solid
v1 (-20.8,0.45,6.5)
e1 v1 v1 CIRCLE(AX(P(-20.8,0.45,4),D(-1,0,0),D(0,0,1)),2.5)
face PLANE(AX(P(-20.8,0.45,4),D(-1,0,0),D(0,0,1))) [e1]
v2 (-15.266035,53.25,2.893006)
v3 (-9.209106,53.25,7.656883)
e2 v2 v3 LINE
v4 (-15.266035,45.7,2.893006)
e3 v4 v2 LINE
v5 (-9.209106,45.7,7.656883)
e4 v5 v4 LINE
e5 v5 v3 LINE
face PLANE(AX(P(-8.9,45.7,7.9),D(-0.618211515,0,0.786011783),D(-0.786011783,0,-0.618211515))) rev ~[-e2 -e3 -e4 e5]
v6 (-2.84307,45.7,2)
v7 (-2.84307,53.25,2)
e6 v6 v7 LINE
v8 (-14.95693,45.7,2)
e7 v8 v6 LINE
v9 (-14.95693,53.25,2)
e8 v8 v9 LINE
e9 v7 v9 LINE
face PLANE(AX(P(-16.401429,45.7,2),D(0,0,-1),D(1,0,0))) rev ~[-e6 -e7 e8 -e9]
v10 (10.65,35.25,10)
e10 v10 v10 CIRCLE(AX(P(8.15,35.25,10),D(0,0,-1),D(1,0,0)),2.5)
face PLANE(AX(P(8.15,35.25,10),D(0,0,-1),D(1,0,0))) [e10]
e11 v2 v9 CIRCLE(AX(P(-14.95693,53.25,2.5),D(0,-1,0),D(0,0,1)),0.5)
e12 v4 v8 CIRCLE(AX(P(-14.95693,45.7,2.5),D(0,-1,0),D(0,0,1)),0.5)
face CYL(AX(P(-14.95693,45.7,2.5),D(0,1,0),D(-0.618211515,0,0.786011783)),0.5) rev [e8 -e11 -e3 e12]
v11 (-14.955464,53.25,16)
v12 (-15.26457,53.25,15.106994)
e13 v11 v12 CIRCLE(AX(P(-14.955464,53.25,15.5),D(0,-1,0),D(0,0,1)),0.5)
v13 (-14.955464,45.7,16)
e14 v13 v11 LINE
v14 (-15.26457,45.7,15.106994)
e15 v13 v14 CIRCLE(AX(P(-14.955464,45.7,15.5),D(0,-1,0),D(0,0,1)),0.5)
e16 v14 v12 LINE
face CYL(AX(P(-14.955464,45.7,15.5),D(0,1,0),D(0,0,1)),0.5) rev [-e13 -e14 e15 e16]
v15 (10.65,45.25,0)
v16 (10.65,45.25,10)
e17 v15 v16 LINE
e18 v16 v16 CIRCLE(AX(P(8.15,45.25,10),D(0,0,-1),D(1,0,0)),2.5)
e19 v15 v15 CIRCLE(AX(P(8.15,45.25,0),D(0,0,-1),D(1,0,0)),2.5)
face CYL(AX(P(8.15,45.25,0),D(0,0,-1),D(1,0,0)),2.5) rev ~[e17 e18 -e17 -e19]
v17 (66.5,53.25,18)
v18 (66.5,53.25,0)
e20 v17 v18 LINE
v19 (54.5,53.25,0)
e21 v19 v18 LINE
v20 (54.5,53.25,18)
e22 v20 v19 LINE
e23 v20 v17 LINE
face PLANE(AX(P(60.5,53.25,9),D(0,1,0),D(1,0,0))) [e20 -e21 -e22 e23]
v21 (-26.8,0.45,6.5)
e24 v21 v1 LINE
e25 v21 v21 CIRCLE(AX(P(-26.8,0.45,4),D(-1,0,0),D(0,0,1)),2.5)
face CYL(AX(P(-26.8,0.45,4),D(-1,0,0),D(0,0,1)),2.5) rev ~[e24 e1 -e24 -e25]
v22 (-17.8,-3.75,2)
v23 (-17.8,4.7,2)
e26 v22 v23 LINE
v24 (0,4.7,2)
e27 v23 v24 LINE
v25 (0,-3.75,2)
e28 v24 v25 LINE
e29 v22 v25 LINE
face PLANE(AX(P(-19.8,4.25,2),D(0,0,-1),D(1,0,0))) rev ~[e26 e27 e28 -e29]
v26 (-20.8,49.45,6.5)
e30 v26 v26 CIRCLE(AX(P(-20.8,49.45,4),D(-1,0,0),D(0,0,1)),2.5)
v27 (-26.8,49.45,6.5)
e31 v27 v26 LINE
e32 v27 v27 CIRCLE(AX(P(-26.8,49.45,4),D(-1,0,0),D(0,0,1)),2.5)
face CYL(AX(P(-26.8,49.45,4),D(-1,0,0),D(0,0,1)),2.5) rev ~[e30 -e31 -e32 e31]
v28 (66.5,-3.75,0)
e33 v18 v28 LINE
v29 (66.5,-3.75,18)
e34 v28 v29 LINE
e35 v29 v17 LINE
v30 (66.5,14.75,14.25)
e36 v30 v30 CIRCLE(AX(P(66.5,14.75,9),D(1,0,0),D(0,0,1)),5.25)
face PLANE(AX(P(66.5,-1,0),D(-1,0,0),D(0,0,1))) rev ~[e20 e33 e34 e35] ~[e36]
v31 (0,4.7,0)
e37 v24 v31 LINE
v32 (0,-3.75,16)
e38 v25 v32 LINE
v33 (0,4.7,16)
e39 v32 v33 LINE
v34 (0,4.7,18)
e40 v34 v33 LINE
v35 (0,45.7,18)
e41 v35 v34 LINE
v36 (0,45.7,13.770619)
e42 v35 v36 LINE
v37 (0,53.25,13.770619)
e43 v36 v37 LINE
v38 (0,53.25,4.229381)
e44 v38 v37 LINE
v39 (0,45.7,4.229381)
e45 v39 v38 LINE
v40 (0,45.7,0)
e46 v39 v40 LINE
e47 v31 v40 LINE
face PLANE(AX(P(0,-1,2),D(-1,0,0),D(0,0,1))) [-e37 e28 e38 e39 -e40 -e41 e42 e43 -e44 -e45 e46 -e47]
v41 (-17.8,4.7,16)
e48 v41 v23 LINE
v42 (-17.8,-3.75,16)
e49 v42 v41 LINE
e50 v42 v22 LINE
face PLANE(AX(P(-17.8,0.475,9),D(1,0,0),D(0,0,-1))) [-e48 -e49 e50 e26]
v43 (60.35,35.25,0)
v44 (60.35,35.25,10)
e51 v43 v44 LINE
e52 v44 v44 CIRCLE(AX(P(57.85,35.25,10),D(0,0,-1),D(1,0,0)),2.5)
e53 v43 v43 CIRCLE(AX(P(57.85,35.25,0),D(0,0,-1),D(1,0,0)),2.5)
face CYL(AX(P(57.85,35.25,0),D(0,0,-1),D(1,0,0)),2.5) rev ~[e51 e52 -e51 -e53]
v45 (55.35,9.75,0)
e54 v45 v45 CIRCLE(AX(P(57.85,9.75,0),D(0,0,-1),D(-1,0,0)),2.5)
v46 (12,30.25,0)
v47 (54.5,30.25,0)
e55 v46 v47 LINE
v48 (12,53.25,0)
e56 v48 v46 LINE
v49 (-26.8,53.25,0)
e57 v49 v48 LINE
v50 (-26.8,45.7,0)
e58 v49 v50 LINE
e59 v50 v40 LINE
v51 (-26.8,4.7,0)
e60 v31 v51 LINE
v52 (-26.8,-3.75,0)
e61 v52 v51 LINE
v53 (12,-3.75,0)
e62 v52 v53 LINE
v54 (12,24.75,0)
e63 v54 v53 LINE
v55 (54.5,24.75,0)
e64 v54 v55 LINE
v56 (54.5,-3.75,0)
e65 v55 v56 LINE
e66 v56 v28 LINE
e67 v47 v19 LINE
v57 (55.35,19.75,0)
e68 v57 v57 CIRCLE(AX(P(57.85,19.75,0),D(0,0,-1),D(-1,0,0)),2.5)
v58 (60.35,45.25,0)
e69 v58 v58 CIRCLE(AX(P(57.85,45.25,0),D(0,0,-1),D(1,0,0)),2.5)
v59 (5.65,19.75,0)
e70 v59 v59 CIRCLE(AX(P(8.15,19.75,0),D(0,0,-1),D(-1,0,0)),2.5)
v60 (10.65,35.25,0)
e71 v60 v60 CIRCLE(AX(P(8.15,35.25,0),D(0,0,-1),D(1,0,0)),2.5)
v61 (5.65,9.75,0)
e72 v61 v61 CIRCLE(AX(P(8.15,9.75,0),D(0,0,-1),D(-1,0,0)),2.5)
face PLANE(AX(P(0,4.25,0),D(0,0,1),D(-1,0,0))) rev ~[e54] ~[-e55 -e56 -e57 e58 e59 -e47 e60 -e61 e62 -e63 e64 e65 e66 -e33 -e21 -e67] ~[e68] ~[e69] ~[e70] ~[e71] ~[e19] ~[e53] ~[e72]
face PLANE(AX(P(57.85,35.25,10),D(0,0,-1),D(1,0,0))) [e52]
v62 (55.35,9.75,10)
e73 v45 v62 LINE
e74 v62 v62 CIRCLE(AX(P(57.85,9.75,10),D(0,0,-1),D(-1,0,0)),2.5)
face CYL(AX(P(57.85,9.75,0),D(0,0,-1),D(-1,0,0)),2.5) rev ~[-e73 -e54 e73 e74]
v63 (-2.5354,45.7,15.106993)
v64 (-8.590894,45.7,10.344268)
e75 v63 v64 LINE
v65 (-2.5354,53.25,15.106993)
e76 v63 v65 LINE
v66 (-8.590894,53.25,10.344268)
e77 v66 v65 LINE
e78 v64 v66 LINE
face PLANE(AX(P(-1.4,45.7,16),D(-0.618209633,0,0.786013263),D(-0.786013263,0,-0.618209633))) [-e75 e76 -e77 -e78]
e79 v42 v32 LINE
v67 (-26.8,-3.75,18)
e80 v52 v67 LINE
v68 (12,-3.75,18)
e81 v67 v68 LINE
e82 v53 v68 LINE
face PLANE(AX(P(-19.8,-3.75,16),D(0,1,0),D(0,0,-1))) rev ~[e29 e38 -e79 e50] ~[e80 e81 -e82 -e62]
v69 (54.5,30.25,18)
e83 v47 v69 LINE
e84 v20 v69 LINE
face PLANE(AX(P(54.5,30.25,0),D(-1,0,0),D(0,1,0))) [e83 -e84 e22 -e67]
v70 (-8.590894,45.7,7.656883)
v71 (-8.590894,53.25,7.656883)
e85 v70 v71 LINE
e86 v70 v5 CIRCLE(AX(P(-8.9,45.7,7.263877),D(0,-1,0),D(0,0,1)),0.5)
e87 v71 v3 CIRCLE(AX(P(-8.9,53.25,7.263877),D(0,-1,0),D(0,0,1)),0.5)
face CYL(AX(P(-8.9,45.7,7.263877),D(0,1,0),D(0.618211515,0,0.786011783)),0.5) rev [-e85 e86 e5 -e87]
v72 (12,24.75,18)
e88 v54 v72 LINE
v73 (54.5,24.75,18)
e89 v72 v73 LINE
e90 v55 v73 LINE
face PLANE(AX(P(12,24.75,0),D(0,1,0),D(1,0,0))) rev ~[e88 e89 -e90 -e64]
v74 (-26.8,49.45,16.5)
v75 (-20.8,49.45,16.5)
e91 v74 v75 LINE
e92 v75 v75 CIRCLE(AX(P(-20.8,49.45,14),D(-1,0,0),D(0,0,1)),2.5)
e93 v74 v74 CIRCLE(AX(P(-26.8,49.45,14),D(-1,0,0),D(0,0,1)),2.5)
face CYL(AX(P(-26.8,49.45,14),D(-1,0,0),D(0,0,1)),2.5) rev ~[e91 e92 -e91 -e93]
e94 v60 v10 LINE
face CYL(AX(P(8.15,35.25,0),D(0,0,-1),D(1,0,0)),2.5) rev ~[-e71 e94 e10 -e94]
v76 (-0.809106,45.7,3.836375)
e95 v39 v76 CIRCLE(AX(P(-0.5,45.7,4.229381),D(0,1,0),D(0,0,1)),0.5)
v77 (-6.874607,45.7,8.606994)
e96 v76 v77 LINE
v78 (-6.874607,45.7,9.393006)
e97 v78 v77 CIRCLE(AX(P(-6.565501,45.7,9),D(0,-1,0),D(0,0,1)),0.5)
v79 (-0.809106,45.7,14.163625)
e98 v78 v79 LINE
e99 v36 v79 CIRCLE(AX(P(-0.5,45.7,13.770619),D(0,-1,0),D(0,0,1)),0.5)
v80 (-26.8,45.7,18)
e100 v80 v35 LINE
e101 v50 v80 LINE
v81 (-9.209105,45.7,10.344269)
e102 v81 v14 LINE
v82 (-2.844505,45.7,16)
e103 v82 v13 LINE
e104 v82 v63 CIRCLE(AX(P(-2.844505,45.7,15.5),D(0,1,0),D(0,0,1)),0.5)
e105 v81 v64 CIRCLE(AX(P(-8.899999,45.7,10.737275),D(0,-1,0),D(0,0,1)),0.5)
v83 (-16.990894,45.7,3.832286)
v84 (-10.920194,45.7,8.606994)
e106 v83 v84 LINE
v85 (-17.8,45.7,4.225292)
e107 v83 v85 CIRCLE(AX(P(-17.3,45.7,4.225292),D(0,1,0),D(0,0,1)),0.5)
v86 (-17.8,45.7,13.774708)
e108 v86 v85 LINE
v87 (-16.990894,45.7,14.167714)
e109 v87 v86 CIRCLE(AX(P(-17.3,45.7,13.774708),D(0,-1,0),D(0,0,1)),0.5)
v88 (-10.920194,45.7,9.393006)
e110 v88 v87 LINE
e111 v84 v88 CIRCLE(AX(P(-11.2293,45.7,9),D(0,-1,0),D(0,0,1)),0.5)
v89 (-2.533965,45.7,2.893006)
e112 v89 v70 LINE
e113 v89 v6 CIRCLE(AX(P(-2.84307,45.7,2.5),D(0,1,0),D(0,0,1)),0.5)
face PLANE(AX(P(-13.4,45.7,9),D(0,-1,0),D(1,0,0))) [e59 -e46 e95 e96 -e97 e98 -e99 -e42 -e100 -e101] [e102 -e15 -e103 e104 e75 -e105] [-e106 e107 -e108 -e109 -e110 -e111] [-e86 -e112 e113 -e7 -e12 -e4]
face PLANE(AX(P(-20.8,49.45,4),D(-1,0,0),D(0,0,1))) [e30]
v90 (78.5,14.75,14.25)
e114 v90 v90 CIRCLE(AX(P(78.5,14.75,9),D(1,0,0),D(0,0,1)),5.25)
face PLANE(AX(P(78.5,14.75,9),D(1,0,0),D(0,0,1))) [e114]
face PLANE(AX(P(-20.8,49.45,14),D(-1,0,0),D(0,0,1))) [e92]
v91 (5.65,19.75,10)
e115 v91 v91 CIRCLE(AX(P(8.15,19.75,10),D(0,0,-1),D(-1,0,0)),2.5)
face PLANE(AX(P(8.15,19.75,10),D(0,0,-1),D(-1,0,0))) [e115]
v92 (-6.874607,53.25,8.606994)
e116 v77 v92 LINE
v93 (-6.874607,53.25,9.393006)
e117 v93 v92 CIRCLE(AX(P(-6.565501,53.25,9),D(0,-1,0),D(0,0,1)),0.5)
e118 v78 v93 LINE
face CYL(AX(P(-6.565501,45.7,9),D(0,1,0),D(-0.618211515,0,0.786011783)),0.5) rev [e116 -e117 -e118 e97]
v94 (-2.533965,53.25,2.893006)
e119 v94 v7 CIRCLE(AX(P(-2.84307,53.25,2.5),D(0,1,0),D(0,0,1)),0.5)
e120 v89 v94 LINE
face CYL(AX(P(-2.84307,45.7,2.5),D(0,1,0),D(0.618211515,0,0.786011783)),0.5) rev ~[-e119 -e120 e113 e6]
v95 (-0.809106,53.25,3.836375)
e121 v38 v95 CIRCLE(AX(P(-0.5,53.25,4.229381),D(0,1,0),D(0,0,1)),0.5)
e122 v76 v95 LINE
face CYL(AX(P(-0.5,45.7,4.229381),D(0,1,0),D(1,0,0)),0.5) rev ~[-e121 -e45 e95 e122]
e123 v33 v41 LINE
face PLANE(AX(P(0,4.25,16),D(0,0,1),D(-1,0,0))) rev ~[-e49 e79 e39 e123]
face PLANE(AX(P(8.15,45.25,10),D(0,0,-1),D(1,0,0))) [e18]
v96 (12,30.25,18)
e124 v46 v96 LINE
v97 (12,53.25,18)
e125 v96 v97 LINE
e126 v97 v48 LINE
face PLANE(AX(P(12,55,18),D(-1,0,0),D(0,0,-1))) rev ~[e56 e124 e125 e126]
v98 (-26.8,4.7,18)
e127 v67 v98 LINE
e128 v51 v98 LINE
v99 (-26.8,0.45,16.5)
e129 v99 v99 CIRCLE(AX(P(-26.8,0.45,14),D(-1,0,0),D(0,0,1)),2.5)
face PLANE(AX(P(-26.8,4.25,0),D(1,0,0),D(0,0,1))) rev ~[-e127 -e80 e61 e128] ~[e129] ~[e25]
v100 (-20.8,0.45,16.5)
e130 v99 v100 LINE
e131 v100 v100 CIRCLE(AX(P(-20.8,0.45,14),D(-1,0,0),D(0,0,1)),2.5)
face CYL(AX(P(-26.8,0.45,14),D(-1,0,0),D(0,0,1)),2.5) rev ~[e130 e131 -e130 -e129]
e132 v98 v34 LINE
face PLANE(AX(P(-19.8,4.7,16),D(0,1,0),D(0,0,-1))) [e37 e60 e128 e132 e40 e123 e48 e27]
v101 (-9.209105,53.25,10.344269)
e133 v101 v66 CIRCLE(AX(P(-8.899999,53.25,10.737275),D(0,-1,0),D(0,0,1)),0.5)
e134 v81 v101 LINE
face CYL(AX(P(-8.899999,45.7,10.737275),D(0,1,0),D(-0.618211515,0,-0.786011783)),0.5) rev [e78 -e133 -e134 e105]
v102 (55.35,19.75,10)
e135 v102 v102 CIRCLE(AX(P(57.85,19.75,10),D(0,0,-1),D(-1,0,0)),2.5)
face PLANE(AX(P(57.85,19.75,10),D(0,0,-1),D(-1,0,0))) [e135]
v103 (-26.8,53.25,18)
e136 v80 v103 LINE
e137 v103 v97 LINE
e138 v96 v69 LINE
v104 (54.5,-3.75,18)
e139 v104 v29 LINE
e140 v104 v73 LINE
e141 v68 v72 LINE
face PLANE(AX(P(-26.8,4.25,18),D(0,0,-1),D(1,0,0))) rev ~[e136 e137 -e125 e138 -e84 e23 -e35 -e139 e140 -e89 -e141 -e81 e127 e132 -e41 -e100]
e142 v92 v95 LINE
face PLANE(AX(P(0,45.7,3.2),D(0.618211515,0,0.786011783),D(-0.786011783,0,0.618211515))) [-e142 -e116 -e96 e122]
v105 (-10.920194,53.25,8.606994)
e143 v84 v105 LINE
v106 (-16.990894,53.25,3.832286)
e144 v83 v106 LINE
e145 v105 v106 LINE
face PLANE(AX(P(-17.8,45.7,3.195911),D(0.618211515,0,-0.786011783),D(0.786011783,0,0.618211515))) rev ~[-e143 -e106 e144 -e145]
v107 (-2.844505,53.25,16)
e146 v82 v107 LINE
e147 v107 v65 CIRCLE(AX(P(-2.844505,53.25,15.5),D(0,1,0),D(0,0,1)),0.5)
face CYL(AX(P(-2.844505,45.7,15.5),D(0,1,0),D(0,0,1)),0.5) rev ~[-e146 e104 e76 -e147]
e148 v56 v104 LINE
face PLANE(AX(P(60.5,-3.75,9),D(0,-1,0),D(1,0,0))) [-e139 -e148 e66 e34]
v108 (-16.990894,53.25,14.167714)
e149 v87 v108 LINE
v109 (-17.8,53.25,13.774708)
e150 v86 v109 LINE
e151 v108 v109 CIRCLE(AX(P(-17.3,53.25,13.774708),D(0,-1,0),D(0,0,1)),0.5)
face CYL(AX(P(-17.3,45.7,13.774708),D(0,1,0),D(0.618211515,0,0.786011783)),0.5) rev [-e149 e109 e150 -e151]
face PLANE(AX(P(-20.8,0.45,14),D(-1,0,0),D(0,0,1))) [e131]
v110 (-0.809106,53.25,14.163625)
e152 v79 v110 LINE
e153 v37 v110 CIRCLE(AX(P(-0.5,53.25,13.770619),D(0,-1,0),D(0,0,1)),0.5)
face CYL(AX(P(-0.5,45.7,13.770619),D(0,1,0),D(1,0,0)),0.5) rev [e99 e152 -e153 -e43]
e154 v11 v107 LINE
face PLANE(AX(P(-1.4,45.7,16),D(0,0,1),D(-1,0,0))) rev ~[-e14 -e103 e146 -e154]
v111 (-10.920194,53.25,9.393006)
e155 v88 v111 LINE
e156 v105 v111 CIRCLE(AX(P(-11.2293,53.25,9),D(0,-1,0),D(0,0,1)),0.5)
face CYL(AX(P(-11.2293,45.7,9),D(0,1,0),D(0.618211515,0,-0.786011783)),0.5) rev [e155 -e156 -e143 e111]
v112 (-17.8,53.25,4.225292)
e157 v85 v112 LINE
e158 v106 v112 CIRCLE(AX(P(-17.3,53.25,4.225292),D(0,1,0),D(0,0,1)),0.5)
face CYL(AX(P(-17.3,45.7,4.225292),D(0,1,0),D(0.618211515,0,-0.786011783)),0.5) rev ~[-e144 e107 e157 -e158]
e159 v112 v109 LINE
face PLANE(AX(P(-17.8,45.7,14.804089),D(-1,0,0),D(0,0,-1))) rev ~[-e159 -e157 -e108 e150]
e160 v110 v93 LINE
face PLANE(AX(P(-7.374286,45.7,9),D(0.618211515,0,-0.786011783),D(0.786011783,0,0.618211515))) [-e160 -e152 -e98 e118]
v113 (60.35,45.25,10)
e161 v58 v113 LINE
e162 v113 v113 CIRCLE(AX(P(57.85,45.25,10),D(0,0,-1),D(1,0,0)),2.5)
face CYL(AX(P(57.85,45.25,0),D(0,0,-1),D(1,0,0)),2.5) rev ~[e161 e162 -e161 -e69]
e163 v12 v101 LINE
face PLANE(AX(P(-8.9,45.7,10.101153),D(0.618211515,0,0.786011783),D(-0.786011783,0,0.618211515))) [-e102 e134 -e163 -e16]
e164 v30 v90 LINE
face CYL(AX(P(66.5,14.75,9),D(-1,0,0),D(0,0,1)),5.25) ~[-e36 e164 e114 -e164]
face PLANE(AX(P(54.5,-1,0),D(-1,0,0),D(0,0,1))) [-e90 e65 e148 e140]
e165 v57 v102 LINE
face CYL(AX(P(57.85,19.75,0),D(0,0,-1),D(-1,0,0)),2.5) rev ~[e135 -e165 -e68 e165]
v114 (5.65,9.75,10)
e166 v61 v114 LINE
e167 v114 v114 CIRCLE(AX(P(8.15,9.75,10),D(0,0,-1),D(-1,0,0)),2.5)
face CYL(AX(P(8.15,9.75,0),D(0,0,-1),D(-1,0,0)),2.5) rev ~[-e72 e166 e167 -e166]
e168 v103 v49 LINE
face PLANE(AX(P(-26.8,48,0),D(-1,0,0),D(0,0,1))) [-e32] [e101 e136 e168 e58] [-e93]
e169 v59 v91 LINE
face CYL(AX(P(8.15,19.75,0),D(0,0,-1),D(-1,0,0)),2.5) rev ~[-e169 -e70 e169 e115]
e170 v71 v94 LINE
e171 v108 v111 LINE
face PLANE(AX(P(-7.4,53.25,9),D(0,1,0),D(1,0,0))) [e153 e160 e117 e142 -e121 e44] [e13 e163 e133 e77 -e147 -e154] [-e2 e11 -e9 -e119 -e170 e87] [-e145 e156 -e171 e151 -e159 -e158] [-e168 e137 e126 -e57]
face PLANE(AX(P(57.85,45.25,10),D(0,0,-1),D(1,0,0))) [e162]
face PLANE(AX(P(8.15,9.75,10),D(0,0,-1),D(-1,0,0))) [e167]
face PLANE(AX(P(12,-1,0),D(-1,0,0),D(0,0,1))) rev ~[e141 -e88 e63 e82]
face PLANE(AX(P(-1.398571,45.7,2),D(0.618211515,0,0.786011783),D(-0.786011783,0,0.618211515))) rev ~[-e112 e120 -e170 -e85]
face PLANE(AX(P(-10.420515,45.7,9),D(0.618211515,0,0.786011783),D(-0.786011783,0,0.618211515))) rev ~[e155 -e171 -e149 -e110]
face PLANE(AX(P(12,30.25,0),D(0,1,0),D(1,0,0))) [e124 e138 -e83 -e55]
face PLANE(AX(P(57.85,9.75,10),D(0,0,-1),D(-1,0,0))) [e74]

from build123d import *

# Parameters (mm, degrees)
SKETCH2_W                = 66.5
SKETCH2_H                = 55
SKETCH2_W_2              = 42.5
SKETCH2_H_2              = 20.5
BOSS_EXTRUDE1_DEPTH      = 18
SKETCH5_W                = 2
SKETCH5_H                = 6
BOSS_EXTRUDE2_DEPTH      = 26.8
BOSS_EXTRUDE3_REACH      = 89.768
SKETCH6_W                = 3
SKETCH6_H                = 6
SKETCH6_W_2              = 2
CUT_EXTRUDE3_REACH       = 90.155
SKETCH8_W                = 42
SKETCH8_H                = 4.25
SKETCH8_W_2              = 42.5
SKETCH12_W               = 3
SKETCH12_H               = 6
BOSS_EXTRUDE7_DEPTH      = 14
SKETCH14_W               = 4
SKETCH14_H               = 6
BOSS_EXTRUDE8_DEPTH      = 16.8
BOSS_EXTRUDE9_DEPTH      = 14
BOSS_EXTRUDE9_DEPTH_BACK = 1
SKETCH17_W               = 23.8
SKETCH17_H               = 6
SKETCH18_W               = 19.8
SKETCH18_H               = 14
CUT_EXTRUDE4_DEPTH       = 10
SKETCH20_W               = 5
SKETCH20_H               = 14
BOSS_EXTRUDE10_DEPTH     = 6
SKETCH22_W               = 38.8
SKETCH22_H               = 18
BOSS_EXTRUDE11_DEPTH     = 1
SKETCH23_W               = 26.8
SKETCH23_H               = 18
BOSS_EXTRUDE12_DEPTH     = 1
BOSS_EXTRUDE13_DEPTH     = 1
SKETCH25_W               = 12
SKETCH25_H               = 18
BOSS_EXTRUDE14_DEPTH     = 1
SKETCH27_W               = 38.8
SKETCH27_H               = 18
SKETCH27_W_2             = 19.8
SKETCH27_H_2             = 14
BOSS_EXTRUDE15_DEPTH     = 1
SKETCH28_W               = 12
SKETCH28_H               = 18
BOSS_EXTRUDE16_DEPTH     = 1
SKETCH32_W               = 18
SKETCH32_H               = 2.75
CUT_EXTRUDE8_DEPTH       = 26.8
SKETCH33_W               = 38.8
SKETCH33_H               = 18
SKETCH33_W_2             = 19.8
SKETCH33_H_2             = 14
BOSS_EXTRUDE17_DEPTH     = 2.75
SKETCH34_W               = 12
SKETCH34_H               = 18
BOSS_EXTRUDE18_DEPTH     = 2.75
SKETCH35_W               = 26.8
SKETCH35_H               = 18
BOSS_EXTRUDE19_DEPTH     = 2.3
SKETCH36_W               = 12
SKETCH36_H               = 18
SKETCH36_W_2             = 38.8
CUT_EXTRUDE9_DEPTH       = 2.75
SKETCH37_R               = 2.5
CUT_EXTRUDE10_DEPTH      = 6
SKETCH39_R               = 2.5
CUT_EXTRUDE12_DEPTH      = 10
SKETCH38_R               = 2.5
CUT_EXTRUDE11_DEPTH      = 6
SKETCH40_W               = 0.5
SKETCH40_H               = 4.25
CUT_EXTRUDE13_DEPTH      = 18
BOSS_EXTRUDE21_DEPTH     = 0.45
SKETCH44_R               = 5.25
BOSS_EXTRUDE22_DEPTH     = 12
SKETCH45_W               = 14
SKETCH45_H               = 8.45
BOSS_EXTRUDE23_DEPTH     = 2
CUT_EXTRUDE14_DEPTH      = 95.506891283
FILLET1_R                = 0.5


with BuildPart() as part:
    # Sketch2 → Boss-Extrude1 (new body)
    with BuildSketch(Plane.XY):
        with Locations((33.25, 27.5)):
            Rectangle(SKETCH2_W, SKETCH2_H)
        with Locations((33.25, 40.5)):
            Rectangle(SKETCH2_W_2, SKETCH2_H_2, mode=Mode.SUBTRACT)
        with Locations((33.25, 14.5)):
            Rectangle(SKETCH2_W_2, SKETCH2_H_2, mode=Mode.SUBTRACT)
    extrude(amount=BOSS_EXTRUDE1_DEPTH)

    # Sketch5 → Boss-Extrude2 (add)
    with BuildSketch(Plane.ZY):
        with Locations((1, 52)):
            Rectangle(SKETCH5_W, SKETCH5_H)
        with Locations((17, 52)):
            Rectangle(SKETCH5_W, SKETCH5_H)
        with Locations((1, 3)):
            Rectangle(SKETCH5_W, SKETCH5_H)
        with Locations((17, 3)):
            Rectangle(SKETCH5_W, SKETCH5_H)
    extrude(amount=BOSS_EXTRUDE2_DEPTH)

    # Sketch6 → Boss-Extrude3 (add, up to next)
    with BuildSketch(Plane.XY.offset(2), mode=Mode.PRIVATE) as boss_extrude3_sk1:
        with Locations((-25.3, 52)):
            Rectangle(SKETCH6_W, SKETCH6_H)
    boss_extrude3_tool1 = extrude(boss_extrude3_sk1.sketch, amount=BOSS_EXTRUDE3_REACH, mode=Mode.PRIVATE) - part.part
    # Sketch6 → Boss-Extrude3 (add, up to next)
    with BuildSketch(Plane.XY.offset(2), mode=Mode.PRIVATE) as boss_extrude3_sk2:
        with Locations((-25.8, 3)):
            Rectangle(SKETCH6_W_2, SKETCH6_H)
    boss_extrude3_tool2 = extrude(boss_extrude3_sk2.sketch, amount=BOSS_EXTRUDE3_REACH, mode=Mode.PRIVATE) - part.part
    add(boss_extrude3_tool1.solids().sort_by_distance((-25.3, 52, 2))[0])
    add(boss_extrude3_tool2.solids().sort_by_distance((-25.8, 3, 2))[0])

    # Sketch8 → Cut-Extrude3 (cut, up to next)
    with BuildSketch(Plane.XY.offset(18), mode=Mode.PRIVATE) as cut_extrude3_sk1:
        with Locations((33, 52.875)):
            Rectangle(SKETCH8_W, SKETCH8_H)
    cut_extrude3_tool1 = extrude(cut_extrude3_sk1.sketch, amount=-CUT_EXTRUDE3_REACH, mode=Mode.PRIVATE) & part.part
    # Sketch8 → Cut-Extrude3 (cut, up to next)
    with BuildSketch(Plane.XY.offset(18), mode=Mode.PRIVATE) as cut_extrude3_sk2:
        with Locations((33.25, 2.125)):
            Rectangle(SKETCH8_W_2, SKETCH8_H)
    cut_extrude3_tool2 = extrude(cut_extrude3_sk2.sketch, amount=-CUT_EXTRUDE3_REACH, mode=Mode.PRIVATE) & part.part
    add(cut_extrude3_tool1.solids().sort_by_distance((33, 52.875, 18))[0], mode=Mode.SUBTRACT)
    add(cut_extrude3_tool2.solids().sort_by_distance((33.25, 2.125, 18))[0], mode=Mode.SUBTRACT)

    # Sketch12 → Boss-Extrude7 (add)
    with BuildSketch(Plane.XY.offset(2)):
        with Locations((-6.5, 3)):
            Rectangle(SKETCH12_W, SKETCH12_H)
    extrude(amount=BOSS_EXTRUDE7_DEPTH)

    # Sketch14 → Boss-Extrude8 (add)
    with BuildSketch(Plane.ZY.offset(8)):
        with Locations((9, 3)):
            Rectangle(SKETCH14_W, SKETCH14_H)
    extrude(amount=BOSS_EXTRUDE8_DEPTH)

    # Sketch17 → Boss-Extrude9 (add, two sides: drawn at the far end of the back side and taken through both)
    with BuildSketch(Plane.XY.offset(2).offset(-BOSS_EXTRUDE9_DEPTH_BACK)):
        with Locations((-11.9, 52)):
            Rectangle(SKETCH17_W, SKETCH17_H)
    extrude(amount=BOSS_EXTRUDE9_DEPTH + BOSS_EXTRUDE9_DEPTH_BACK)

    # Sketch18 → Cut-Extrude4 (cut)
    with BuildSketch(Plane(origin=(0, 6, 0), x_dir=(1, 0, 0), z_dir=(0, 1, 0))):
        with Locations((-14.9, -9)):
            Rectangle(SKETCH18_W, SKETCH18_H)
    extrude(amount=-CUT_EXTRUDE4_DEPTH, mode=Mode.SUBTRACT)

    # Sketch20 → Boss-Extrude10 (add)
    with BuildSketch(Plane(origin=(0, 6, 0), x_dir=(1, 0, 0), z_dir=(0, 1, 0))):
        with Locations((-22.3, -9)):
            Rectangle(SKETCH20_W, SKETCH20_H)
    extrude(amount=-BOSS_EXTRUDE10_DEPTH)

    # Sketch22 → Boss-Extrude11 (add)
    with BuildSketch(Plane(origin=(0, 55, 0), x_dir=(1, 0, 0), z_dir=(0, 1, 0))):
        with Locations((-7.4, -9)):
            Rectangle(SKETCH22_W, SKETCH22_H)
    extrude(amount=BOSS_EXTRUDE11_DEPTH)

    # Sketch23 → Boss-Extrude12 (add)
    with BuildSketch(Plane.XZ.offset(-49)):
        with Locations((-13.4, 9)):
            Rectangle(SKETCH23_W, SKETCH23_H)
    extrude(amount=BOSS_EXTRUDE12_DEPTH)

    # Sketch24 → Boss-Extrude13 (add)
    with BuildSketch(Plane(origin=(0, 6, 0), x_dir=(1, 0, 0), z_dir=(0, 1, 0))):
        Polygon((0, 0), (-26.8, 0), (-26.8, -18), (0, -18), (0, -16), (-19.8, -16), (-19.8, -2), (0, -2), align=None)
    extrude(amount=BOSS_EXTRUDE13_DEPTH)

    # Sketch25 → Boss-Extrude14 (add)
    with BuildSketch(Plane(origin=(0, 55, 0), x_dir=(1, 0, 0), z_dir=(0, 1, 0))):
        with Locations((60.5, -9)):
            Rectangle(SKETCH25_W, SKETCH25_H)
    extrude(amount=BOSS_EXTRUDE14_DEPTH)

    # Sketch27 → Boss-Extrude15 (add)
    with BuildSketch(Plane.XZ):
        with Locations((-7.4, 9)):
            Rectangle(SKETCH27_W, SKETCH27_H)
        with Locations((-9.9, 9)):
            Rectangle(SKETCH27_W_2, SKETCH27_H_2, mode=Mode.SUBTRACT)
    extrude(amount=BOSS_EXTRUDE15_DEPTH)

    # Sketch28 → Boss-Extrude16 (add)
    with BuildSketch(Plane.XZ):
        with Locations((60.5, 9)):
            Rectangle(SKETCH28_W, SKETCH28_H)
    extrude(amount=BOSS_EXTRUDE16_DEPTH)

    # Sketch32 → Cut-Extrude8 (cut)
    with BuildSketch(Plane.ZY.offset(26.8)):
        with Locations((9, 5.625)):
            Rectangle(SKETCH32_W, SKETCH32_H)
    extrude(amount=-CUT_EXTRUDE8_DEPTH, mode=Mode.SUBTRACT)

    # Sketch33 → Boss-Extrude17 (add)
    with BuildSketch(Plane.XZ.offset(1)):
        with Locations((-7.4, 9)):
            Rectangle(SKETCH33_W, SKETCH33_H)
        with Locations((-9.9, 9)):
            Rectangle(SKETCH33_W_2, SKETCH33_H_2, mode=Mode.SUBTRACT)
    extrude(amount=BOSS_EXTRUDE17_DEPTH)

    # Sketch34 → Boss-Extrude18 (add)
    with BuildSketch(Plane.XZ.offset(1)):
        with Locations((60.5, 9)):
            Rectangle(SKETCH34_W, SKETCH34_H)
    extrude(amount=BOSS_EXTRUDE18_DEPTH)

    # Sketch35 → Boss-Extrude19 (add)
    with BuildSketch(Plane.XZ.offset(-48)):
        with Locations((-13.4, 9)):
            Rectangle(SKETCH35_W, SKETCH35_H)
    extrude(amount=BOSS_EXTRUDE19_DEPTH)

    # Sketch36 → Cut-Extrude9 (cut)
    with BuildSketch(Plane(origin=(0, 56, 0), x_dir=(1, 0, 0), z_dir=(0, 1, 0))):
        with Locations((60.5, -9)):
            Rectangle(SKETCH36_W, SKETCH36_H)
        with Locations((-7.4, -9)):
            Rectangle(SKETCH36_W_2, SKETCH36_H)
    extrude(amount=-CUT_EXTRUDE9_DEPTH, mode=Mode.SUBTRACT)

    # Sketch37 → Cut-Extrude10 (cut)
    with BuildSketch(Plane.ZY.offset(26.8)):
        with Locations((4, 49.45)):
            Circle(SKETCH37_R)
        with Locations((14, 49.45)):
            Circle(SKETCH37_R)
    extrude(amount=-CUT_EXTRUDE10_DEPTH, mode=Mode.SUBTRACT)

    # Sketch39 → Cut-Extrude12 (cut)
    with BuildSketch(Plane(origin=(0, 0, 0), x_dir=(-1, 0, 0), z_dir=(0, 0, -1))):
        with Locations((-8.15, 19.75)):
            Circle(SKETCH39_R)
        with Locations((-8.15, 9.75)):
            Circle(SKETCH39_R)
        with Locations((-57.85, 19.75)):
            Circle(SKETCH39_R)
        with Locations((-57.85, 9.75)):
            Circle(SKETCH39_R)
        with Locations(Location((-8.15, 45.25, 0), (0, 0, 180))):
            Circle(SKETCH39_R)
        with Locations(Location((-8.15, 35.25, 0), (0, 0, 180))):
            Circle(SKETCH39_R)
        with Locations(Location((-57.85, 45.25, 0), (0, 0, 180))):
            Circle(SKETCH39_R)
        with Locations(Location((-57.85, 35.25, 0), (0, 0, 180))):
            Circle(SKETCH39_R)
    extrude(amount=-CUT_EXTRUDE12_DEPTH, mode=Mode.SUBTRACT)

    # Sketch38 → Cut-Extrude11 (cut)
    with BuildSketch(Plane.ZY.offset(26.8)):
        with Locations((4, 0.45)):
            Circle(SKETCH38_R)
        with Locations((14, 0.45)):
            Circle(SKETCH38_R)
    extrude(amount=-CUT_EXTRUDE11_DEPTH, mode=Mode.SUBTRACT)

    # Sketch40 → Cut-Extrude13 (cut)
    with BuildSketch(Plane(origin=(0, 0, 0), x_dir=(-1, 0, 0), z_dir=(0, 0, -1))):
        with Locations((-54.25, 52.875)):
            Rectangle(SKETCH40_W, SKETCH40_H)
    extrude(amount=-CUT_EXTRUDE13_DEPTH, mode=Mode.SUBTRACT)

    # Sketch43 → Boss-Extrude21 (add)
    with BuildSketch(Plane(origin=(0, 4.25, 0), x_dir=(1, 0, 0), z_dir=(0, 1, 0))):
        Polygon((0, 0), (-26.8, 0), (-26.8, -18), (0, -18), (0, -16), (-19.8, -16), (-19.8, -2), (0, -2), align=None)
    extrude(amount=BOSS_EXTRUDE21_DEPTH)

    # Sketch44 → Boss-Extrude22 (add)
    with BuildSketch(Plane(origin=(66.5, 0, 0), x_dir=(0, 0, -1), z_dir=(1, 0, 0))):
        with Locations(Location((-9, 14.75, 0), (0, 0, 180))):
            Circle(SKETCH44_R)
    extrude(amount=BOSS_EXTRUDE22_DEPTH)

    # Sketch45 → Boss-Extrude23 (add)
    with BuildSketch(Plane(origin=(-19.8, 0, 0), x_dir=(0, 0, -1), z_dir=(1, 0, 0))):
        with Locations((-9, 0.475)):
            Rectangle(SKETCH45_W, SKETCH45_H)
    extrude(amount=BOSS_EXTRUDE23_DEPTH)

    # Sketch48 → Cut-Extrude14 (cut, through all)
    with BuildSketch(Plane(origin=(0, 45.7, 0), x_dir=(-1, 0, 0), z_dir=(0, -1, 0))):
        Polygon((8.9, -16), (1.4, -16), (8.9, -10.101152658), (16.399963049, -16), align=None)
        Polygon((1.398571429, -2), (8.9, -7.9), (16.401428571, -2), align=None)
        Polygon((0, -3.2), (7.374285714, -9), (0, -14.8), align=None)
        Polygon((17.8, -3.195910825), (10.420515192, -9), (17.8, -14.804089175), align=None)
    extrude(amount=-CUT_EXTRUDE14_DEPTH, mode=Mode.SUBTRACT)

    # Fillet1
    fillet1_edges = [part.edges().sort_by_distance(p)[0] for p in [
        (0, 49.475, 14.8),
        (0, 49.475, 3.2),
        (-7.374285714, 49.475, 9),
        (-17.8, 49.475, 14.804089175),
        (-10.420515192, 49.475, 9),
        (-17.8, 49.475, 3.195910825),
        (-8.9, 49.475, 10.101152658),
        (-16.399963049, 49.475, 16),
        (-1.4, 49.475, 16),
        (-16.401428571, 49.475, 2),
        (-8.9, 49.475, 7.9),
        (-1.398571429, 49.475, 2),
    ]]
    fillet(fillet1_edges, radius=FILLET1_R)


solid = part.part
